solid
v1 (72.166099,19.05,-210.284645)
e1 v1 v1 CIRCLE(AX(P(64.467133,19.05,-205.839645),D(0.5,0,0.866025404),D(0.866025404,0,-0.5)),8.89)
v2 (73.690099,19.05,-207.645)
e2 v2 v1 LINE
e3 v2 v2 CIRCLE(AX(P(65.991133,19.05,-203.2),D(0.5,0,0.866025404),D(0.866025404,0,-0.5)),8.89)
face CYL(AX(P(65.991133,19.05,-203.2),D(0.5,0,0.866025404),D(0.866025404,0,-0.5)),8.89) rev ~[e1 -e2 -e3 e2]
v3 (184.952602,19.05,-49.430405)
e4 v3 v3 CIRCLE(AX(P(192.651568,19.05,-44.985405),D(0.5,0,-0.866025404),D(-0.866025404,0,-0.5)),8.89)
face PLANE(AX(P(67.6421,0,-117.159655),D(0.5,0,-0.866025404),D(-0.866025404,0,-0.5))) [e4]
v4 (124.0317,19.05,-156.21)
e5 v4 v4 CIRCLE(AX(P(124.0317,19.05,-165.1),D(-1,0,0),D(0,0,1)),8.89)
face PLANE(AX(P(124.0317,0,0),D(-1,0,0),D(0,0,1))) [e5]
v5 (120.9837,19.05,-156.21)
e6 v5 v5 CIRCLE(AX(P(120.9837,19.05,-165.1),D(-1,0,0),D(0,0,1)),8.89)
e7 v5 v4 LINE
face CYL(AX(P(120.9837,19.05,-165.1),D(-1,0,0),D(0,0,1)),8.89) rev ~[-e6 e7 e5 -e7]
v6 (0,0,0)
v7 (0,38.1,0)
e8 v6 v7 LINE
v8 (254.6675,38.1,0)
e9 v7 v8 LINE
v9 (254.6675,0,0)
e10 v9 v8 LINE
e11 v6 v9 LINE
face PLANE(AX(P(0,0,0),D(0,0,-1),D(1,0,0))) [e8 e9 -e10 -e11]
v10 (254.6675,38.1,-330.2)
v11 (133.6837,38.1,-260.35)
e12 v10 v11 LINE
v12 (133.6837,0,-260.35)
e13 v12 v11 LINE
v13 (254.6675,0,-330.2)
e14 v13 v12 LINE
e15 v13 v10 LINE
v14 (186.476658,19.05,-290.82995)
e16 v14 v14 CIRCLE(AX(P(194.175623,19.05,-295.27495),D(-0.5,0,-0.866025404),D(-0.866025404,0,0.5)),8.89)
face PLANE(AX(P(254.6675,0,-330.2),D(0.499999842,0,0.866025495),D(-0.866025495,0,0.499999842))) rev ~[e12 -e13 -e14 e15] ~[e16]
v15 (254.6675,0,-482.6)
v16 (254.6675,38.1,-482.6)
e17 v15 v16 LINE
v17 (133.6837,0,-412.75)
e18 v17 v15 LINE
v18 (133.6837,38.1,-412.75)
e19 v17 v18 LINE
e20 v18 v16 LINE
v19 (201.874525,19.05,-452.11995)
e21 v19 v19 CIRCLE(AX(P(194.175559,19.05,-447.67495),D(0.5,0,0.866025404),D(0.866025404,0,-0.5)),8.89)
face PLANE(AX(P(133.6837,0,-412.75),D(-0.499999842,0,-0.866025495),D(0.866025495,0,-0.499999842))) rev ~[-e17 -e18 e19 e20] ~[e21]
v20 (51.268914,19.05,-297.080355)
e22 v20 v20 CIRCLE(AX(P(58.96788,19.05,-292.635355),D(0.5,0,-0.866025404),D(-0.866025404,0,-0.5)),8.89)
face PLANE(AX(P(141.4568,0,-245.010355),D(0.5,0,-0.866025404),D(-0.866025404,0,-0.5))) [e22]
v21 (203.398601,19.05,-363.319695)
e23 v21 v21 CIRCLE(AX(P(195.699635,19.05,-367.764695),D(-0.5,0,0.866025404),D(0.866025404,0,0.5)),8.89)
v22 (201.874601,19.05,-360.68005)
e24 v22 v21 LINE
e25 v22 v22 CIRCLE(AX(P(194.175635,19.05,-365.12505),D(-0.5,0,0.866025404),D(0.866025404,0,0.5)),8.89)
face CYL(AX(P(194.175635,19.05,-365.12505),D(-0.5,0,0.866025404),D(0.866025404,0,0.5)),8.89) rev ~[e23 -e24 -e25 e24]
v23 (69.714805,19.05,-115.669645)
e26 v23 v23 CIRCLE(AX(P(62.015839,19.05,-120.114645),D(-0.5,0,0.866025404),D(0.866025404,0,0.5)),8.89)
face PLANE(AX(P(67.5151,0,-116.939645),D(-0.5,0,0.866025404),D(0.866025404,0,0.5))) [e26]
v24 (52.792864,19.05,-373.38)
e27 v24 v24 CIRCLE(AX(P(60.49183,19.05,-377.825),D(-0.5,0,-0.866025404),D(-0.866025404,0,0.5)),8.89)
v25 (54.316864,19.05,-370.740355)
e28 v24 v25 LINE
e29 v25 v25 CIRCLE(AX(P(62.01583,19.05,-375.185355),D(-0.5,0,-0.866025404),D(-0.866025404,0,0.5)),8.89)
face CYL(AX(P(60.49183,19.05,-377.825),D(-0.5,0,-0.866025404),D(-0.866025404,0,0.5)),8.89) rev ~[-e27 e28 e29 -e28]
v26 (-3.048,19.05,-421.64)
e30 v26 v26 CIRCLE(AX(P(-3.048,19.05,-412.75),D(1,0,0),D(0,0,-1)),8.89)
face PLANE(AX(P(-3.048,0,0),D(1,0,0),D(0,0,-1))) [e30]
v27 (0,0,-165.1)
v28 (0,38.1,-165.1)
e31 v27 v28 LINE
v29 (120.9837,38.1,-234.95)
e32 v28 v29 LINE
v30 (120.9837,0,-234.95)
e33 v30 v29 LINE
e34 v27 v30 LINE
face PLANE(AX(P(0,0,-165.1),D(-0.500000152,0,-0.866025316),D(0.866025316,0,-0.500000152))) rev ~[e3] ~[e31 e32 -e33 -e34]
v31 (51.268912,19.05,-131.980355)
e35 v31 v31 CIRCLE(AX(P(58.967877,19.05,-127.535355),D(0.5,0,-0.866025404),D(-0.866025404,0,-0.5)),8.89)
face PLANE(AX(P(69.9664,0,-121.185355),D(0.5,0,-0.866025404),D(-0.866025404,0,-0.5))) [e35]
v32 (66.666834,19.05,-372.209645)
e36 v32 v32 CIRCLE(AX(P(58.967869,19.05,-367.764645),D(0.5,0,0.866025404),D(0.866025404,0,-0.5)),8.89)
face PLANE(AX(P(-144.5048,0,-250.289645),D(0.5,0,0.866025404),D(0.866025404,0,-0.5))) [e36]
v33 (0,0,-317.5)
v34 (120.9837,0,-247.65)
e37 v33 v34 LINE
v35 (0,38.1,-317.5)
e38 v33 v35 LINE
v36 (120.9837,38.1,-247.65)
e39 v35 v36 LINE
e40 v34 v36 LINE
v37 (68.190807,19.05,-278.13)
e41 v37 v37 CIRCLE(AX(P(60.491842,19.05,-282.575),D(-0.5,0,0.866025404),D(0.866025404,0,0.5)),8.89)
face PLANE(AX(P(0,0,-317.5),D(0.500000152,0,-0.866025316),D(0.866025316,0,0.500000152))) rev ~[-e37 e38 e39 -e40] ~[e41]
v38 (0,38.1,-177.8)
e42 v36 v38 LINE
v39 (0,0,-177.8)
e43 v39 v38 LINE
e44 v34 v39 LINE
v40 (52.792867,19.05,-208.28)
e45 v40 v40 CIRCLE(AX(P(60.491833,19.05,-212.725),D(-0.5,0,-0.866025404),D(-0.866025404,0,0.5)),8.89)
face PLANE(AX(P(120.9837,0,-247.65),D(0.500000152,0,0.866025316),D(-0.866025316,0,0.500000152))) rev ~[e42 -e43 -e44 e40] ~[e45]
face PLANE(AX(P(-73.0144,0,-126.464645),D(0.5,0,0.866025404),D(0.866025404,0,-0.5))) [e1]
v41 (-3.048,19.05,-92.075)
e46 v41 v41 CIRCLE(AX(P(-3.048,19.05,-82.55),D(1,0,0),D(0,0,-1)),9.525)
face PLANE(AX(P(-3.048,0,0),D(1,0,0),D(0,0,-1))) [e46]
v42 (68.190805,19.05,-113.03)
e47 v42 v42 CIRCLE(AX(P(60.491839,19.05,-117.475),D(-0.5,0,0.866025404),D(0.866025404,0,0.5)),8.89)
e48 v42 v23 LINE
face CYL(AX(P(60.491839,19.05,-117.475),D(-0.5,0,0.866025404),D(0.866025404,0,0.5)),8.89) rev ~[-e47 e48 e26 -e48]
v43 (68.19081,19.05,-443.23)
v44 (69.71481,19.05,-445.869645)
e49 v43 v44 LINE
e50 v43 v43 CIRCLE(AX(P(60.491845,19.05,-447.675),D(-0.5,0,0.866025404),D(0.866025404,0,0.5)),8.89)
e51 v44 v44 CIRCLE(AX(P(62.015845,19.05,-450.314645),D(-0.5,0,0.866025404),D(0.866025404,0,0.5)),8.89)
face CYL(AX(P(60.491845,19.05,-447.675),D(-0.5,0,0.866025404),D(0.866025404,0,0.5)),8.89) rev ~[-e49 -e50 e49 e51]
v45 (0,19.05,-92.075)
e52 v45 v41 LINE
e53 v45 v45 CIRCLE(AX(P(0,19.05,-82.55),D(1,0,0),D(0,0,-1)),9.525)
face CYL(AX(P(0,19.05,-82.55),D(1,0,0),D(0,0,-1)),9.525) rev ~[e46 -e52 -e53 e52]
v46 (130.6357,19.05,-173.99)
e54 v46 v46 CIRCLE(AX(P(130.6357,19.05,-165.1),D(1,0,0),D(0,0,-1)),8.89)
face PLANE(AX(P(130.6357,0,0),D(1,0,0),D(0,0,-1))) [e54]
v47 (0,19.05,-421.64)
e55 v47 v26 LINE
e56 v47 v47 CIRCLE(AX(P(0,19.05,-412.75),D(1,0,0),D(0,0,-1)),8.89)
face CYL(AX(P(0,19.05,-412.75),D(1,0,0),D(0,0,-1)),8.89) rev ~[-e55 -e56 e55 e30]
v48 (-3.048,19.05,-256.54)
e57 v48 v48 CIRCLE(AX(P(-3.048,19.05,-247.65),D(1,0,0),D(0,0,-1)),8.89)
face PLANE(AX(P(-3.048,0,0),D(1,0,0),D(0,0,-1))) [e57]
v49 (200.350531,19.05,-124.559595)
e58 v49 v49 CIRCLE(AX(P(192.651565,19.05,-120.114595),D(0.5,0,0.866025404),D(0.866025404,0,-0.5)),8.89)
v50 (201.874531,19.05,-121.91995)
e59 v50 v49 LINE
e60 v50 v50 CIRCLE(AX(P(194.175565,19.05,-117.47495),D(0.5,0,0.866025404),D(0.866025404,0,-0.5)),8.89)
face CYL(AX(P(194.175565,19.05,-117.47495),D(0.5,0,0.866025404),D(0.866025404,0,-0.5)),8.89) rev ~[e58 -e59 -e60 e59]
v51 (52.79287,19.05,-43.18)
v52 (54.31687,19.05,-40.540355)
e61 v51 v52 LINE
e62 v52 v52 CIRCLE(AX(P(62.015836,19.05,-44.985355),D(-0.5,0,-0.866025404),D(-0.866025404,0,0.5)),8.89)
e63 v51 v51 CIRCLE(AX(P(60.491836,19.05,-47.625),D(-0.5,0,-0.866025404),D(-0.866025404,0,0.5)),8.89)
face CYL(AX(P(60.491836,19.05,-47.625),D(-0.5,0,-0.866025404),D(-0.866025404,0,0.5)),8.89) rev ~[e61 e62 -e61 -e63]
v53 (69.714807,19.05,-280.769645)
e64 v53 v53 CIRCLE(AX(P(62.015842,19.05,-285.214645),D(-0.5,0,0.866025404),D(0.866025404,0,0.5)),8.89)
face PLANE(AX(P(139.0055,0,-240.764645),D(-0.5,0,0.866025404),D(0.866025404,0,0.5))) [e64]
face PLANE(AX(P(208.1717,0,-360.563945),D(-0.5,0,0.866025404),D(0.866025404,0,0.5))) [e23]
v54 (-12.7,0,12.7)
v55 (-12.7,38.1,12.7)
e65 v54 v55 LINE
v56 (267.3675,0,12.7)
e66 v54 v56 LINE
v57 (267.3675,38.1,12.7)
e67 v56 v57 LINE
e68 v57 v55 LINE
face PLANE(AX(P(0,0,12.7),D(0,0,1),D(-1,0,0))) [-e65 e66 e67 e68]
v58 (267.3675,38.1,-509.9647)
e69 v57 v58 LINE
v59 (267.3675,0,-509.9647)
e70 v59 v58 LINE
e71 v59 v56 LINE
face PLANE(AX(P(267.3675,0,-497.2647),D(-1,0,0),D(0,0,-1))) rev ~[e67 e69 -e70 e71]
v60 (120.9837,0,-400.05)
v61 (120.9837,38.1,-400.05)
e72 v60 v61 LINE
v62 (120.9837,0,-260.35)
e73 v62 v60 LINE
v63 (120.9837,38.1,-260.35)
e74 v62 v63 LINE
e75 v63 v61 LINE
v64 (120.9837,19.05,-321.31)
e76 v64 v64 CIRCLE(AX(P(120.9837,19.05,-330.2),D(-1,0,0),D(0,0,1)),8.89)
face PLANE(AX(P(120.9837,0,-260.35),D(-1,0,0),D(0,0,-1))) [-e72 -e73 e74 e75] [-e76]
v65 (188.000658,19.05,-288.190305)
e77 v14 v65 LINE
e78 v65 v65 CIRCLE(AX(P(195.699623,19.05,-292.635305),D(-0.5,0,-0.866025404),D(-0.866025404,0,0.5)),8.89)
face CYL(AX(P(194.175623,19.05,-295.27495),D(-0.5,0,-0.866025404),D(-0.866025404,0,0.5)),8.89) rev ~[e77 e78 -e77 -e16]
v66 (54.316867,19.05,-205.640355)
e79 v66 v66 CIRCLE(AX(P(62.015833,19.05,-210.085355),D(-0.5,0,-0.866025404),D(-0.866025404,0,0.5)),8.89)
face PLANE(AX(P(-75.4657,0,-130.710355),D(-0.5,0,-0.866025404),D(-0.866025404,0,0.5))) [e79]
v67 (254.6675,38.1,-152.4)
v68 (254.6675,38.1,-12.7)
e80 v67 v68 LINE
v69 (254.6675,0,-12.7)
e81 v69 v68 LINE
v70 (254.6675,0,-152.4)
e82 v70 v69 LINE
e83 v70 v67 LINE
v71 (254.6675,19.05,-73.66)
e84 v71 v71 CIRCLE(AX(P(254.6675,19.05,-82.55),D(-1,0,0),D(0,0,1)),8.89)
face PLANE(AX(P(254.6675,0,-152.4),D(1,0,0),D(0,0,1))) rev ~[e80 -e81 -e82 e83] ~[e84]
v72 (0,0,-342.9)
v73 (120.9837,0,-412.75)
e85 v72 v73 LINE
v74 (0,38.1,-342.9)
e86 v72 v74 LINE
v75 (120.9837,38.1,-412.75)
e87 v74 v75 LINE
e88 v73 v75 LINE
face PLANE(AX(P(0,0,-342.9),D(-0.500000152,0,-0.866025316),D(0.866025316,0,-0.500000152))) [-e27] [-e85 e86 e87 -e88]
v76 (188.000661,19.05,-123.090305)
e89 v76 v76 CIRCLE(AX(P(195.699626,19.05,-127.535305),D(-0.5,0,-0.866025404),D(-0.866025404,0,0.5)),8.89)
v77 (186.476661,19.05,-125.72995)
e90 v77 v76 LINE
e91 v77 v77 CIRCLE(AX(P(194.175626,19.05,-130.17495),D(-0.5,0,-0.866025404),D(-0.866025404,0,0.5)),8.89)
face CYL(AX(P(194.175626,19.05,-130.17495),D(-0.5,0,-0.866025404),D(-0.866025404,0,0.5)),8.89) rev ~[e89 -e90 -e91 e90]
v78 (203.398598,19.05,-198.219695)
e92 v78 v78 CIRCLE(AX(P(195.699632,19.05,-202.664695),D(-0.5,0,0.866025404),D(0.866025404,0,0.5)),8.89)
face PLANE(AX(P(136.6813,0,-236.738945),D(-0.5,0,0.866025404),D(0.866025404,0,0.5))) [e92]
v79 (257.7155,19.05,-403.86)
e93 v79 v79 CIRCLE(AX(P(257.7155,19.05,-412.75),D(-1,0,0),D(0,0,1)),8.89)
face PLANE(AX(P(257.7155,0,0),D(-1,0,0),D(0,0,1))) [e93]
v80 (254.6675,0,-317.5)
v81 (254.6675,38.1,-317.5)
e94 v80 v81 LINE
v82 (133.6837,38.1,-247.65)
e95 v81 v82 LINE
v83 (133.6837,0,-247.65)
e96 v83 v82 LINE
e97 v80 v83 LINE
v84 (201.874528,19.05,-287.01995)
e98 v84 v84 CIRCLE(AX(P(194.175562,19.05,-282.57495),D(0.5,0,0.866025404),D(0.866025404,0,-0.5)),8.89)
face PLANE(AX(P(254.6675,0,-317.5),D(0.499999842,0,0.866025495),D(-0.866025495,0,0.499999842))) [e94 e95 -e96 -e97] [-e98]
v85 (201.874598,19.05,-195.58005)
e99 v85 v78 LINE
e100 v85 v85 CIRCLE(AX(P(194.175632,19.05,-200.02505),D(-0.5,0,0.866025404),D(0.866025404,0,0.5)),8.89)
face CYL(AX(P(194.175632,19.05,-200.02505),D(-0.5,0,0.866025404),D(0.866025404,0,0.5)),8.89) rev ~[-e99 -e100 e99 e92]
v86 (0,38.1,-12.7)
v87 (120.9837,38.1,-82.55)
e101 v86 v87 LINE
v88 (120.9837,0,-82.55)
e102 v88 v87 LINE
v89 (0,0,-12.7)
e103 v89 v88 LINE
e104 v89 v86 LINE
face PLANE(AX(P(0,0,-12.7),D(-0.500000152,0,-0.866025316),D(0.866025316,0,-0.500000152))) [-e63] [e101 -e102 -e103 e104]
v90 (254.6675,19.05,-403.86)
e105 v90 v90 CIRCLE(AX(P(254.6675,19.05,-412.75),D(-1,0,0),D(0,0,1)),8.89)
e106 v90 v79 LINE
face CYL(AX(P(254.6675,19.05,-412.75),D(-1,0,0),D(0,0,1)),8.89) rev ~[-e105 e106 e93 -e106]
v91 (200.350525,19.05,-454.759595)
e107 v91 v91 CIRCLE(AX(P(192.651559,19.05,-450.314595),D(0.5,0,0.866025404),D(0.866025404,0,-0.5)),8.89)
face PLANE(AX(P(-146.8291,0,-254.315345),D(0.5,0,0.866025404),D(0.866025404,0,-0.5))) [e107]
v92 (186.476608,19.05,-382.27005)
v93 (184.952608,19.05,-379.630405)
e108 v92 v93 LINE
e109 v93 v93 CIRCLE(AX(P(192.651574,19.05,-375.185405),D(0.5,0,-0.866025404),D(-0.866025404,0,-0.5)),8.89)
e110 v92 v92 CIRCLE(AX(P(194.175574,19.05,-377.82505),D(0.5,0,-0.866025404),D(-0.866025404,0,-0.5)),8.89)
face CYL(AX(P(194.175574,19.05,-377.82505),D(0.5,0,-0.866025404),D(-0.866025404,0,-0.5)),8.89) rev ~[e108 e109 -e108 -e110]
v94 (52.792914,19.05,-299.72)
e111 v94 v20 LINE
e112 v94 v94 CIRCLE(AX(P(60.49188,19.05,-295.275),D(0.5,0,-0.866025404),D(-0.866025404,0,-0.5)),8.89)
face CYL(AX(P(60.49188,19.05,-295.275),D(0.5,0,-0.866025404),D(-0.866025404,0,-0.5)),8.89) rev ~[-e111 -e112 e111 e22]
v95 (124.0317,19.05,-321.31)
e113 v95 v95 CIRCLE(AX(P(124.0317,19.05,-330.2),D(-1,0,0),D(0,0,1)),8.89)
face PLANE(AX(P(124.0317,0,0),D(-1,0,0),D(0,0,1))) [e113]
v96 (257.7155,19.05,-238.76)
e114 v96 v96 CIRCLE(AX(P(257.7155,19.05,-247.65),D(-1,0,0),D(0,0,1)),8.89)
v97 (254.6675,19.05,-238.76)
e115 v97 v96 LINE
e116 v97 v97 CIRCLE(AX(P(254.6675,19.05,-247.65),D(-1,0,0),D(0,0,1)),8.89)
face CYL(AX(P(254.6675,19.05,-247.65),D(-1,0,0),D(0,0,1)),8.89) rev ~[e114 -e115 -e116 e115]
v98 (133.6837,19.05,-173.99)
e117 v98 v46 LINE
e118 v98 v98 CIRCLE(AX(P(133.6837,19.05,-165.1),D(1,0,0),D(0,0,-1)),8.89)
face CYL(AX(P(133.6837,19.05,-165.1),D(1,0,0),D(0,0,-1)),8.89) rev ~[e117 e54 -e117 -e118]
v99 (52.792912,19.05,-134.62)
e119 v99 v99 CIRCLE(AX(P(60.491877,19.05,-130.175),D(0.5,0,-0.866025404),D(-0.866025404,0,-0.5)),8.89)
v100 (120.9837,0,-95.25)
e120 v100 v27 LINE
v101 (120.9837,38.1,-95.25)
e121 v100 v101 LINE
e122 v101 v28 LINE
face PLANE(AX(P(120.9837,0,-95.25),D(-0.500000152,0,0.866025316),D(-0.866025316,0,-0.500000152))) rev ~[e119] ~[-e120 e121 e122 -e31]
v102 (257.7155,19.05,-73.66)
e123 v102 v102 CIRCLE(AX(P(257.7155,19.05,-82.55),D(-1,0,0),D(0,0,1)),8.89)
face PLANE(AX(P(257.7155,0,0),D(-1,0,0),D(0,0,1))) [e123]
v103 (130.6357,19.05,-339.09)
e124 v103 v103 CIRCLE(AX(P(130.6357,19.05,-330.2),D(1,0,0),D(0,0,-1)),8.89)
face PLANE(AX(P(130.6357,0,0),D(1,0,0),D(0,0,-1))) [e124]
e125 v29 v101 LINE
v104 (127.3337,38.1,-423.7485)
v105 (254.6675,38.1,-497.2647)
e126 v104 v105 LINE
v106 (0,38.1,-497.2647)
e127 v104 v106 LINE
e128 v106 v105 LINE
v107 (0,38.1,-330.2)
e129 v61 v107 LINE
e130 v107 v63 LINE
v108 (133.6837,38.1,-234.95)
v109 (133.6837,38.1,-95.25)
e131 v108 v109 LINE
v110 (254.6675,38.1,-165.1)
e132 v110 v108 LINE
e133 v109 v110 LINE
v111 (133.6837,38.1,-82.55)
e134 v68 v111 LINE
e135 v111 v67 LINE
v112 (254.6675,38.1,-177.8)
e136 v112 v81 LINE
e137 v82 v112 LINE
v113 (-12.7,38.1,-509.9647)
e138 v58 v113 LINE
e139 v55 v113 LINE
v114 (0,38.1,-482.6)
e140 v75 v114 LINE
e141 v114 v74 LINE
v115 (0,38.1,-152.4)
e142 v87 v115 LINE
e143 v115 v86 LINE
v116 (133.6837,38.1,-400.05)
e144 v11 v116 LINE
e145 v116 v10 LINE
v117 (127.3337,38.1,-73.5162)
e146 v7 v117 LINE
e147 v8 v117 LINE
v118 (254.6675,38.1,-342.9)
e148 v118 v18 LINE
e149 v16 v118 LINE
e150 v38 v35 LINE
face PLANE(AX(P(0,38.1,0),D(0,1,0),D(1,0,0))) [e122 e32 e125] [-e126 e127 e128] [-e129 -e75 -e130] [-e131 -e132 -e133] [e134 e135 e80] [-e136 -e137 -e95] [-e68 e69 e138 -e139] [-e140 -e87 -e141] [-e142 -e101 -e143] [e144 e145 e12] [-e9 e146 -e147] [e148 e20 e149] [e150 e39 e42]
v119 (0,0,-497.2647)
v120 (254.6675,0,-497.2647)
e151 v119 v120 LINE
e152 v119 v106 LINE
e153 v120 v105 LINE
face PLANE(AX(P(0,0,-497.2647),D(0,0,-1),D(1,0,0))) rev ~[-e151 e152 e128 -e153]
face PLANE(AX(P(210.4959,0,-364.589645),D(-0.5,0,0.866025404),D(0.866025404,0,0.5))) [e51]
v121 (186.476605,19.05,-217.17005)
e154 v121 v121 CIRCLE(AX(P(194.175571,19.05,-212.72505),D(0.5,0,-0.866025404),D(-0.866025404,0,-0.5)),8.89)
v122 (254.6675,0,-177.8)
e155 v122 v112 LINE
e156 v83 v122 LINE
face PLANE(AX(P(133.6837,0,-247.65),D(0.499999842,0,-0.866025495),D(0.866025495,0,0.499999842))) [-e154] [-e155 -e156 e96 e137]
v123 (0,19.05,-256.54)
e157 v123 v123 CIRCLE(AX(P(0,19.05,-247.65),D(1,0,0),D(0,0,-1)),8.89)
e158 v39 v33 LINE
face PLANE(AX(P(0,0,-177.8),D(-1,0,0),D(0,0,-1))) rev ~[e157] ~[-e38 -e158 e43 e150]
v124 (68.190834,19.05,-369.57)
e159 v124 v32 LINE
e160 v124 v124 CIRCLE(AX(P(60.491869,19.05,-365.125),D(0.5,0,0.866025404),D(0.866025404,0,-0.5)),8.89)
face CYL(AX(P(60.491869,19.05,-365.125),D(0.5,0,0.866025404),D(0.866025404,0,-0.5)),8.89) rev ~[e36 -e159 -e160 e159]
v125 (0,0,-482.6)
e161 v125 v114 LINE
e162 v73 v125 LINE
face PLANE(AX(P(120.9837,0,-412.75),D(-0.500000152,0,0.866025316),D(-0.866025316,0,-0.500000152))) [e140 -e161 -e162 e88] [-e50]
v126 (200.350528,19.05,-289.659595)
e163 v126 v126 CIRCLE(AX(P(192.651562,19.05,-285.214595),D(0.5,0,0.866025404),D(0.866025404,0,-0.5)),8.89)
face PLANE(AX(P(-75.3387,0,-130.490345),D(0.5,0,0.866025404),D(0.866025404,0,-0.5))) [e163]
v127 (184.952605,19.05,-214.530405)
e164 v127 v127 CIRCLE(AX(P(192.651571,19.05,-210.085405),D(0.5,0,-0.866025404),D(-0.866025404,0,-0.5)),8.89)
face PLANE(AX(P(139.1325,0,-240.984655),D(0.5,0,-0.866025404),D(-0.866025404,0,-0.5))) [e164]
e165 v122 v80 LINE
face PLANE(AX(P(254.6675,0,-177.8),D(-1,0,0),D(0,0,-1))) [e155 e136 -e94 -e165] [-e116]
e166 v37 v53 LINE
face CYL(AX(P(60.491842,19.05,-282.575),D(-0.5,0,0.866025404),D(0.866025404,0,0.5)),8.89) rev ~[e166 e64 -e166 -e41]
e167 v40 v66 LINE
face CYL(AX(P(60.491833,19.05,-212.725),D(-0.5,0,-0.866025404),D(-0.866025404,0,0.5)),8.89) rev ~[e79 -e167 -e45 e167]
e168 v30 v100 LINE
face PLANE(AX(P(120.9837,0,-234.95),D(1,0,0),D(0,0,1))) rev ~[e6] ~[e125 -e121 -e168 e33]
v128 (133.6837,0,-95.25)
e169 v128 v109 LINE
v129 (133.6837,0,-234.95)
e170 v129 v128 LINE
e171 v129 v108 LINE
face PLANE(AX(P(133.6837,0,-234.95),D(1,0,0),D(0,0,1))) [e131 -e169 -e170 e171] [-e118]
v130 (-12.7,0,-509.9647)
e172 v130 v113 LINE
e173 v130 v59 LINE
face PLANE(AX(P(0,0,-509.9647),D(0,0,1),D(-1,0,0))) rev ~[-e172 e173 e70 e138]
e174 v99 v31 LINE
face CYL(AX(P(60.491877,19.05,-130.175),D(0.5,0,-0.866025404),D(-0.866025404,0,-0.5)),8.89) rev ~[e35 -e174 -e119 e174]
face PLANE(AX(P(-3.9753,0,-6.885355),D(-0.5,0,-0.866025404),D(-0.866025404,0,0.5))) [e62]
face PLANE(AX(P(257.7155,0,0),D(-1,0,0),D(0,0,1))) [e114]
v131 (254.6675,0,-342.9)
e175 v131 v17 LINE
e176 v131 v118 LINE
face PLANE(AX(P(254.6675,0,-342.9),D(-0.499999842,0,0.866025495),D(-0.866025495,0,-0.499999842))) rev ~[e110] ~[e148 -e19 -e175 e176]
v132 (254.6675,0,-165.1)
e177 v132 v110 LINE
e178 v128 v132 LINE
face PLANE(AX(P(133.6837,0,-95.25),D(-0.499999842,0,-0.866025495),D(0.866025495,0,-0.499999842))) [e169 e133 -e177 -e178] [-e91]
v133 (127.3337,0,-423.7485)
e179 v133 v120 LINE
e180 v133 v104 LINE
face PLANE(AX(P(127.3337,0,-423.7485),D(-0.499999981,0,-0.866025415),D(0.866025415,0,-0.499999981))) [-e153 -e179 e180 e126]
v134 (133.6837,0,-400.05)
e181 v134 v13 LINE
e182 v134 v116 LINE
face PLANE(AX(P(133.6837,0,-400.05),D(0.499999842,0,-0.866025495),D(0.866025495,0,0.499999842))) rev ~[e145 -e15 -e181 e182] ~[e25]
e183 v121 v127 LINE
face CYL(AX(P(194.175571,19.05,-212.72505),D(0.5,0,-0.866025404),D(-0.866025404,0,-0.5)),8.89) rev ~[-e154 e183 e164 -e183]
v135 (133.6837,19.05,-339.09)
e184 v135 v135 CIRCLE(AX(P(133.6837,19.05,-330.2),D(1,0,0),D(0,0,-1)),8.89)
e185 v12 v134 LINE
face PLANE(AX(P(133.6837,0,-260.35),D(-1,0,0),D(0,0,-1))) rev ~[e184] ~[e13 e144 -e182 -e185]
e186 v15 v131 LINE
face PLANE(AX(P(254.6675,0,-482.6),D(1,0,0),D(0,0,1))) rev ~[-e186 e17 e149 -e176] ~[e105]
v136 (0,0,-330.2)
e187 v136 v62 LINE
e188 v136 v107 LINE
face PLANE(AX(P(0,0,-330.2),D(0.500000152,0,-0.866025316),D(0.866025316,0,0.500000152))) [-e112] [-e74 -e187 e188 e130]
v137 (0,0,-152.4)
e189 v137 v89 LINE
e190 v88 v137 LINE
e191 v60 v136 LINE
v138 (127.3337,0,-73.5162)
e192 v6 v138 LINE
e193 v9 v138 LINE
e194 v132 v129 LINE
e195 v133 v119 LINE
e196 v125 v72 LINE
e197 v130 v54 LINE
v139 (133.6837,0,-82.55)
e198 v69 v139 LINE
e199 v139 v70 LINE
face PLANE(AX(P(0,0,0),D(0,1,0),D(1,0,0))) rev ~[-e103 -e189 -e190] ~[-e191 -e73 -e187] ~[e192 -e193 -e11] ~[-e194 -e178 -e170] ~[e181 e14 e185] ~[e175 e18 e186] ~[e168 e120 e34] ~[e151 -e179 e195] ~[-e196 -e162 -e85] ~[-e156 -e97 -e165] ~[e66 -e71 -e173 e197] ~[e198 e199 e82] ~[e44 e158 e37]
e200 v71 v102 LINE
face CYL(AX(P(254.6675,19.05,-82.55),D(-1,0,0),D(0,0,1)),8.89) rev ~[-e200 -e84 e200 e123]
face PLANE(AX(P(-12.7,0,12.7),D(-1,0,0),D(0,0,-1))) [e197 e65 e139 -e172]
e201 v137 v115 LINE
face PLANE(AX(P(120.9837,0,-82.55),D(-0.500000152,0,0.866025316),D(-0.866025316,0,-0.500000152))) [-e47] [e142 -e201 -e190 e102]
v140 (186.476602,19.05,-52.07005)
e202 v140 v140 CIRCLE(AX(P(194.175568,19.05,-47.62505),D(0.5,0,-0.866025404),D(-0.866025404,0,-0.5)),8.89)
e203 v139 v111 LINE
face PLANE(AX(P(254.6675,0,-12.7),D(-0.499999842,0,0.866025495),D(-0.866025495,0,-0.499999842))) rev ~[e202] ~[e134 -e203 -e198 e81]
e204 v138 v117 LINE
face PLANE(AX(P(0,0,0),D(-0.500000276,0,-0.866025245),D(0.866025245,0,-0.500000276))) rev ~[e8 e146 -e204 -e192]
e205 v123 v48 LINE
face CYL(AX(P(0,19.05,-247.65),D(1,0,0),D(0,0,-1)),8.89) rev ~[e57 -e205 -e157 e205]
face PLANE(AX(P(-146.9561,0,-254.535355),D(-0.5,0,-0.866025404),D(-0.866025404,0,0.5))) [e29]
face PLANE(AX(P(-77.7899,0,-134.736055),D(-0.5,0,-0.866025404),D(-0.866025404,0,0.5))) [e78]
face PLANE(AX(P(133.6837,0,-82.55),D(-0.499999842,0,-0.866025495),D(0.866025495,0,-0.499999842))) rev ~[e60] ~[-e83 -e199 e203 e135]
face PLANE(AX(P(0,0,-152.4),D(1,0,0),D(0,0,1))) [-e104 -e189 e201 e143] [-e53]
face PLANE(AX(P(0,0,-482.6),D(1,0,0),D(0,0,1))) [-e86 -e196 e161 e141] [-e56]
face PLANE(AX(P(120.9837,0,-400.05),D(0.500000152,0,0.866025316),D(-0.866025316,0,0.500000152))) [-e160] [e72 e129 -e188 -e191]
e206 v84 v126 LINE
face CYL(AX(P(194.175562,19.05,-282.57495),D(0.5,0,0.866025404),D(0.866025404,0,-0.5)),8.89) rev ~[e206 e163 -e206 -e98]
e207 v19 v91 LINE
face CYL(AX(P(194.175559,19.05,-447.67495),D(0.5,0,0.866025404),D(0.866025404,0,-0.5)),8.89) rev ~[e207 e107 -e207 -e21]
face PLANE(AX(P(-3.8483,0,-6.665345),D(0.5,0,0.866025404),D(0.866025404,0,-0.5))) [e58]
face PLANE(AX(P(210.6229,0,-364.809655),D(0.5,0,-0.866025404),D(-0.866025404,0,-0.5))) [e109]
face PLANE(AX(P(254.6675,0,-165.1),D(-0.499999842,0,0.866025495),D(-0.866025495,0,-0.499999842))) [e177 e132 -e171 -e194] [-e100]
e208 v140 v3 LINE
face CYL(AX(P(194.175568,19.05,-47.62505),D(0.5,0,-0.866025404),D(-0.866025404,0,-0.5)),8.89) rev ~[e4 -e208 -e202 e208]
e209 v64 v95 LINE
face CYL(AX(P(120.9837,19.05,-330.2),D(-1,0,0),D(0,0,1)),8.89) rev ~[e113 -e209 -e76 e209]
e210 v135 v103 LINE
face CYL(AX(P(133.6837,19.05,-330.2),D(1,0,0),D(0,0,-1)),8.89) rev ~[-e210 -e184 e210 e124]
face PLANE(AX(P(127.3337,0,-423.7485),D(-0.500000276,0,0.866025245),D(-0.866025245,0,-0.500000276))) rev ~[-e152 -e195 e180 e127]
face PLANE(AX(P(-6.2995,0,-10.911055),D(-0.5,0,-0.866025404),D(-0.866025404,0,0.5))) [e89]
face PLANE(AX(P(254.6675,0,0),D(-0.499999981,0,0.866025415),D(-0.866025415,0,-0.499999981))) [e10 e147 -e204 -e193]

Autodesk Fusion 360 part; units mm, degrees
sketch "Sketch1" plane through (0, 0, 0) normal (0, 1, 0) x (1, 0, 0) in component "Divider"
  line L0 (0, 0) -> (127.3337, 73.5162)
  line L1 (0, 12.7) -> (120.9837, 82.55)
  line L2 (120.9837, 82.55) -> (0, 152.4)
  line L3 (0, 152.4) -> (0, 12.7)
  line L4 (127.3337, 73.5162) -> (127.3337, 423.7485) construction
  line L5 (120.9837, 95.25) -> (0, 165.1)
  line L6 (0, 165.1) -> (120.9837, 234.95)
  line L7 (120.9837, 234.95) -> (120.9837, 95.25)
  line L8 (120.9837, 247.65) -> (0, 177.8)
  line L9 (0, 177.8) -> (0, 317.5)
  line L10 (0, 317.5) -> (120.9837, 247.65)
  line L11 (0, 330.2) -> (120.9837, 260.35)
  line L12 (120.9837, 260.35) -> (120.9837, 400.05)
  line L13 (120.9837, 400.05) -> (0, 330.2)
  line L14 (0, 342.9) -> (120.9837, 412.75)
  line L15 (120.9837, 412.75) -> (0, 482.6)
  line L16 (0, 482.6) -> (0, 342.9)
  line L17 (127.3337, 423.7485) -> (0, 497.2647)
  line L18 (0, -12.7) -> (-12.7, -12.7)
  line L19 (-12.7, -12.7) -> (-12.7, 0)
  line L20 (-12.7, 497.2647) -> (-12.7, 509.9647)
  line L21 (0, 509.9647) -> (-12.7, 509.9647)
  line L22 (-12.7, 497.2647) -> (-12.7, 0)
  line L23 (254.6675, 12.7) -> (133.6837, 82.55)
  line L24 (254.6675, 482.6) -> (254.6675, 342.9)
  line L25 (127.3337, 423.7485) -> (254.6675, 497.2647)
  line L26 (133.6837, 412.75) -> (254.6675, 482.6)
  line L27 (133.6837, 400.05) -> (254.6675, 330.2)
  line L28 (267.3675, -12.7) -> (267.3675, 0)
  line L29 (133.6837, 247.65) -> (254.6675, 177.8)
  line L30 (254.6675, 177.8) -> (254.6675, 317.5)
  line L31 (267.3675, 497.2647) -> (267.3675, 0)
  line L32 (254.6675, 509.9647) -> (267.3675, 509.9647)
  line L33 (254.6675, 165.1) -> (133.6837, 234.95)
  line L34 (254.6675, -12.7) -> (267.3675, -12.7)
  line L35 (254.6675, 0) -> (127.3337, 73.5162)
  line L36 (254.6675, 317.5) -> (133.6837, 247.65)
  line L37 (254.6675, 330.2) -> (133.6837, 260.35)
  line L38 (133.6837, 234.95) -> (133.6837, 95.25)
  line L39 (254.6675, 152.4) -> (254.6675, 12.7)
  line L40 (267.3675, 497.2647) -> (267.3675, 509.9647)
  line L41 (133.6837, 82.55) -> (254.6675, 152.4)
  line L42 (254.6675, 342.9) -> (133.6837, 412.75)
  line L43 (133.6837, 260.35) -> (133.6837, 400.05)
  line L44 (133.6837, 95.25) -> (254.6675, 165.1)
  line L45 (0, 497.2647) -> (254.6675, 497.2647)
  line L46 (0, 0) -> (254.6675, 0)
  line L47 (0, -12.7) -> (254.6675, -12.7)
  line L48 (0, 509.9647) -> (254.6675, 509.9647)
  point P0 (254.6675, 0)
  dimension "d7" = 139.7
  dimension "d8" = 139.7
  dimension "d9" = 60
  dimension "d10" = 12.7
  dimension "d12" = 127.3337
  dimension "d14" = 139.7
  dimension "d15" = 139.7
  dimension "d16" = 12.7
  dimension "d17" = 12.7
  dimension "d19" = 139.7
  dimension "d20" = 139.7
  dimension "d21" = 139.7
  dimension "d22" = 6.35
  dimension "d23" = 12.7
  dimension "d24" = 12.7
  dimension "d26" = 139.7
  dimension "d27" = 139.7
  dimension "d28" = 6.35
  dimension "d29" = 12.7
  dimension "d30" = 6.35
  dimension "d31" = 139.7
  dimension "d32" = 139.7
  dimension "d34" = 12.7
  dimension "d35" = 12.7
  dimension "d36" = 12.7
  dimension "d38" = 12.7
  dimension "d39" = 12.7
  dimension "d41" = 12.7
  dimension "d43" = 12.7
  dimension "d44" = 12.7
  dimension "d45" = 12.7
  dimension "d46" = 12.7
  dimension "d47" = 12.7
  dimension "d48" = 254.6675
extrude "Extrude1" add sketch "Sketch1" along normal blind 38.1 in component "Divider"
sketch "Sketch2" plane through (0, 0, 0) normal (1, 0, 0) x (0, 0, -1) in component "Divider"
  line L0 (177.8, 0) -> (317.5, 0)
  line L1 (317.5, 0) -> (317.5, 38.1)
  line L2 (317.5, 38.1) -> (177.8, 38.1)
  line L3 (177.8, 38.1) -> (177.8, 0)
  line L4 (12.7, 38.1) -> (152.4, 38.1)
  line L5 (177.8, 38.1) -> (317.5, 38.1)
  line L6 (342.9, 38.1) -> (482.6, 38.1)
  line L7 (177.8, 0) -> (317.5, 0)
  line L8 (342.9, 0) -> (482.6, 0)
  line L9 (12.7, 0) -> (152.4, 0)
  circle A0 centre (412.75, 19.05) radius 8.89
  circle A1 centre (247.65, 19.05) radius 8.89
  circle A2 centre (82.55, 19.05) radius 9.525
  dimension "d61" = 17.78
  dimension "d62" = 69.85
  dimension "d63" = 19.05
  dimension "d64" = 17.78
  dimension "d65" = 19.05
  dimension "d66" = 69.85
  dimension "d67" = 19.05
  dimension "d68" = 19.05
  dimension "d69" = 69.85
extrude "Extrude2" cut sketch "Sketch2" against normal blind 3.048 contours A0 | A1 | A2 in component "Divider"
sketch "Sketch2 (1)" plane through (254.6675, 0, 0) normal (-1, 0, 0) x (0, 0, 1) in component "Divider"
  line L0 (-317.5, 0) -> (-177.8, 0)
  line L1 (-177.8, 0) -> (-177.8, 38.1)
  line L2 (-177.8, 38.1) -> (-317.5, 38.1)
  line L3 (-317.5, 38.1) -> (-317.5, 0)
  line L4 (-482.6, 38.1) -> (-342.9, 38.1)
  line L5 (-482.6, 0) -> (-342.9, 0)
  line L6 (-317.5, 0) -> (-177.8, 0)
  line L7 (-317.5, 38.1) -> (-177.8, 38.1)
  line L8 (-152.4, 38.1) -> (-12.7, 38.1)
  line L9 (-152.4, 0) -> (-12.7, 0)
  circle A0 centre (-82.55, 19.05) radius 8.89
  circle A1 centre (-247.65, 19.05) radius 8.89
  circle A2 centre (-412.75, 19.05) radius 8.89
  dimension "d72" = 17.78
  dimension "d73" = 19.05
  dimension "d74" = 69.85
  dimension "d75" = 17.78
  dimension "d76" = 19.05
  dimension "d77" = 69.85
  dimension "d78" = 17.78
  dimension "d79" = 19.05
  dimension "d80" = 69.85
extrude "Extrude3" cut sketch "Sketch2 (1)" against normal blind 3.048 contours A0 | A1 | A2 in component "Divider"
sketch "Sketch3" plane through (133.6837, 0, 0) normal (1, 0, 0) x (0, 0, -1) in component "Divider"
  line L0 (95.25, 0) -> (234.95, 0)
  line L1 (234.95, 0) -> (234.95, 38.1)
  line L2 (234.95, 38.1) -> (95.25, 38.1)
  line L3 (95.25, 38.1) -> (95.25, 0)
  line L4 (95.25, 38.1) -> (234.95, 38.1)
  line L5 (95.25, 0) -> (234.95, 0)
  line L6 (260.35, 38.1) -> (400.05, 38.1)
  line L7 (260.35, 0) -> (400.05, 0)
  circle A0 centre (165.1, 19.05) radius 8.89
  circle A1 centre (330.2, 19.05) radius 8.89
  dimension "d83" = 17.78
  dimension "d84" = 19.05
  dimension "d85" = 69.85
  dimension "d86" = 17.78
  dimension "d87" = 19.05
  dimension "d88" = 69.85
extrude "Extrude4" cut sketch "Sketch3" against normal blind 3.048 contours A0 | A1 in component "Divider"
sketch "Sketch4" plane through (120.9837, 0, 0) normal (-1, 0, 0) x (0, 0, 1) in component "Divider"
  line L0 (-400.05, 0) -> (-260.35, 0)
  line L1 (-260.35, 0) -> (-260.35, 38.1)
  line L2 (-260.35, 38.1) -> (-400.05, 38.1)
  line L3 (-400.05, 38.1) -> (-400.05, 0)
  circle A0 centre (-330.2, 19.05) radius 8.89
  line L4 (-400.05, 38.1) -> (-260.35, 38.1)
  line L5 (-400.05, 0) -> (-260.35, 0)
  line L6 (-234.95, 0) -> (-95.25, 0)
  line L7 (-234.95, 38.1) -> (-95.25, 38.1)
  circle A1 centre (-165.1, 19.05) radius 8.89
  dimension "d91" = 17.78
  dimension "d92" = 19.05
  dimension "d93" = 69.85
  dimension "d94" = 17.78
  dimension "d95" = 19.05
  dimension "d96" = 69.85
extrude "Extrude5" cut sketch "Sketch4" against normal blind 3.048 contours A0 | A1 in component "Divider"
sketch "Sketch7" plane through (-71.4904, 0, -123.825) normal (0.5, 0, 0.866) x (0.866, 0, -0.5) in component "Divider"
  line L0 (82.55, 0) -> (222.25, 0)
  line L1 (222.25, 0) -> (222.25, 38.1)
  line L2 (222.25, 38.1) -> (82.55, 38.1)
  line L3 (82.55, 38.1) -> (82.55, 0)
  line L4 (82.55, 38.1) -> (222.25, 38.1)
  line L5 (82.55, 0) -> (222.25, 0)
  circle A0 centre (158.75, 19.05) radius 8.89
  dimension "d99" = 17.78
  dimension "d100" = 63.5
  dimension "d101" = 19.05
extrude "Extrude6" cut sketch "Sketch7" against normal blind 3.048 contours A0 in component "Divider"
sketch "Sketch8" plane through (-142.9808, 0, -247.65) normal (0.5, 0, 0.866) x (0.866, 0, -0.5) in component "Divider"
  line L0 (165.1, 0) -> (304.8, 0)
  line L1 (304.8, 0) -> (304.8, 38.1)
  line L2 (304.8, 38.1) -> (165.1, 38.1)
  line L3 (165.1, 38.1) -> (165.1, 0)
  line L4 (165.1, 38.1) -> (304.8, 38.1)
  line L5 (165.1, 0) -> (304.8, 0)
  circle A0 centre (234.95, 19.05) radius 8.89
  dimension "d104" = 17.78
  dimension "d105" = 19.05
  dimension "d106" = 69.85
extrude "Extrude7" cut sketch "Sketch8" against normal blind 3.048 contours A0 in component "Divider"
sketch "Sketch9" plane through (-2.3243, 0, -4.0257) normal (0.5, 0, 0.866) x (0.866, 0, -0.5) in component "Divider"
  line L0 (157.0485, 0) -> (296.7485, 0)
  line L1 (296.7485, 0) -> (296.7485, 38.1)
  line L2 (296.7485, 38.1) -> (157.0485, 38.1)
  line L3 (157.0485, 38.1) -> (157.0485, 0)
  line L4 (157.0485, 38.1) -> (296.7485, 38.1)
  line L5 (157.0485, 0) -> (296.7485, 0)
  circle A0 centre (226.8985, 19.05) radius 8.89
  dimension "d109" = 17.78
  dimension "d110" = 19.05
  dimension "d111" = 69.85
extrude "Extrude8" cut sketch "Sketch9" against normal blind 3.048 contours A0 in component "Divider"
sketch "Sketch10" plane through (-73.8147, 0, -127.8507) normal (0.5, 0, 0.866) x (0.866, 0, -0.5) in component "Divider"
  line L0 (239.5985, 0) -> (379.2985, 0)
  line L1 (379.2985, 0) -> (379.2985, 38.1)
  line L2 (379.2985, 38.1) -> (239.5985, 38.1)
  line L3 (239.5985, 38.1) -> (239.5985, 0)
  line L4 (239.5985, 38.1) -> (379.2985, 38.1)
  line L5 (239.5985, 0) -> (379.2985, 0)
  circle A0 centre (309.4485, 19.05) radius 8.89
  dimension "d114" = 17.78
  dimension "d115" = 19.05
  dimension "d116" = 69.85
extrude "Extrude9" cut sketch "Sketch10" against normal blind 3.048 contours A0 in component "Divider"
sketch "Sketch11" plane through (-145.3051, 0, -251.6757) normal (0.5, 0, 0.866) x (0.866, 0, -0.5) in component "Divider"
  line L0 (322.1485, 0) -> (461.8485, 0)
  line L1 (461.8485, 0) -> (461.8485, 38.1)
  line L2 (461.8485, 38.1) -> (322.1485, 38.1)
  line L3 (322.1485, 38.1) -> (322.1485, 0)
  line L4 (322.1485, 38.1) -> (461.8485, 38.1)
  line L5 (322.1485, 0) -> (461.8485, 0)
  circle A0 centre (391.9985, 19.05) radius 8.89
  dimension "d119" = 17.78
  dimension "d120" = 19.05
  dimension "d121" = 69.85
extrude "Extrude10" cut sketch "Sketch11" against normal blind 3.048 contours A0 in component "Divider"
sketch "Sketch3 (2)" plane through (212.1469, 0, -367.4493) normal (0.5, 0, -0.866) x (-0.866, 0, -0.5) in component "Divider"
  line L0 (-49.0985, 0) -> (90.6015, 0)
  line L1 (90.6015, 0) -> (90.6015, 38.1)
  line L2 (90.6015, 38.1) -> (-49.0985, 38.1)
  line L3 (-49.0985, 38.1) -> (-49.0985, 0)
  line L4 (-49.0985, 38.1) -> (90.6015, 38.1)
  line L5 (-49.0985, 0) -> (90.6015, 0)
  circle A0 centre (20.7515, 19.05) radius 8.89
  dimension "d124" = 17.78
  dimension "d125" = 19.05
  dimension "d126" = 69.85
extrude "Extrude11" cut sketch "Sketch3 (2)" against normal blind 3.048 contours A0 in component "Divider"
sketch "Sketch4 (2)" plane through (140.6565, 0, -243.6243) normal (0.5, 0, -0.866) x (-0.866, 0, -0.5) in component "Divider"
  line L0 (-131.6485, 0) -> (8.0515, 0)
  line L1 (8.0515, 0) -> (8.0515, 38.1)
  line L2 (8.0515, 38.1) -> (-131.6485, 38.1)
  line L3 (-131.6485, 38.1) -> (-131.6485, 0)
  line L4 (-131.6485, 38.1) -> (8.0515, 38.1)
  line L5 (-131.6485, 0) -> (8.0515, 0)
  circle A0 centre (-61.7985, 19.05) radius 8.89
  dimension "d129" = 17.78
  dimension "d130" = 19.05
  dimension "d131" = 69.85
extrude "Extrude12" cut sketch "Sketch4 (2)" against normal blind 3.048 contours A0 in component "Divider"
sketch "Sketch5" plane through (69.1661, 0, -119.7993) normal (0.5, 0, -0.866) x (-0.866, 0, -0.5) in component "Divider"
  line L0 (-214.1985, 0) -> (-74.4985, 0)
  line L1 (-74.4985, 0) -> (-74.4985, 38.1)
  line L2 (-74.4985, 38.1) -> (-214.1985, 38.1)
  line L3 (-214.1985, 38.1) -> (-214.1985, 0)
  line L4 (-214.1985, 38.1) -> (-74.4985, 38.1)
  line L5 (-214.1985, 0) -> (-74.4985, 0)
  circle A0 centre (-144.3485, 19.05) radius 8.89
  dimension "d134" = 17.78
  dimension "d135" = 19.05
  dimension "d136" = 69.85
extrude "Extrude13" cut sketch "Sketch5" against normal blind 3.048 contours A0 in component "Divider"
sketch "Sketch6" plane through (142.9808, 0, -247.65) normal (0.5, 0, -0.866) x (-0.866, 0, -0.5) in component "Divider"
  line L0 (25.4, 0) -> (165.1, 0)
  line L1 (165.1, 0) -> (165.1, 38.1)
  line L2 (165.1, 38.1) -> (25.4, 38.1)
  line L3 (25.4, 38.1) -> (25.4, 0)
  line L4 (25.4, 38.1) -> (165.1, 38.1)
  line L5 (25.4, 0) -> (165.1, 0)
  circle A0 centre (95.25, 19.05) radius 8.89
  dimension "d139" = 17.78
  dimension "d140" = 19.05
  dimension "d141" = 69.85
extrude "Extrude14" cut sketch "Sketch6" against normal blind 3.048 contours A0 in component "Divider"
sketch "Sketch7 (2)" plane through (71.4904, 0, -123.825) normal (0.5, 0, -0.866) x (-0.866, 0, -0.5) in component "Divider"
  line L0 (-57.15, 0) -> (82.55, 0)
  line L1 (82.55, 0) -> (82.55, 38.1)
  line L2 (82.55, 38.1) -> (-57.15, 38.1)
  line L3 (-57.15, 38.1) -> (-57.15, 0)
  line L4 (-57.15, 38.1) -> (82.55, 38.1)
  line L5 (-57.15, 0) -> (82.55, 0)
  circle A0 centre (12.7, 19.05) radius 8.89
  dimension "d144" = 17.78
  dimension "d145" = 19.05
  dimension "d146" = 69.85
extrude "Extrude15" cut sketch "Sketch7 (2)" against normal blind 3.048 contours A0 in component "Divider"
sketch "Sketch8 (2)" plane through (-148.4801, 0, -257.175) normal (-0.5, 0, -0.866) x (-0.866, 0, 0.5) in component "Divider"
  line L0 (-311.15, 0) -> (-171.45, 0)
  line L1 (-171.45, 0) -> (-171.45, 38.1)
  line L2 (-171.45, 38.1) -> (-311.15, 38.1)
  line L3 (-311.15, 38.1) -> (-311.15, 0)
  line L4 (-243.9838, 38.1) -> (10.9985, 38.1)
  line L5 (-311.15, 38.1) -> (-171.45, 38.1)
  line L6 (-311.15, 0) -> (-171.45, 0)
  circle A0 centre (-241.3, 19.05) radius 8.89
  dimension "d149" = 17.78
  dimension "d150" = 69.85
  dimension "d151" = 19.05
extrude "Extrude16" cut sketch "Sketch8 (2)" against normal blind 3.048 contours A0 in component "Divider"
sketch "Sketch9 (2)" plane through (-76.9897, 0, -133.35) normal (-0.5, 0, -0.866) x (-0.866, 0, 0.5) in component "Divider"
  line L0 (-228.6, 0) -> (-88.9, 0)
  line L1 (-88.9, 0) -> (-88.9, 38.1)
  line L2 (-88.9, 38.1) -> (-228.6, 38.1)
  line L3 (-228.6, 38.1) -> (-228.6, 0)
  line L4 (-228.6, 38.1) -> (-88.9, 38.1)
  line L5 (-228.6, 0) -> (-88.9, 0)
  circle A0 centre (-158.75, 19.05) radius 8.89
  dimension "d154" = 17.78
  dimension "d155" = 19.05
  dimension "d156" = 69.85
extrude "Extrude17" cut sketch "Sketch9 (2)" against normal blind 3.048 contours A0 in component "Divider"
sketch "Sketch10 (2)" plane through (-5.4993, 0, -9.525) normal (-0.5, 0, -0.866) x (-0.866, 0, 0.5) in component "Divider"
  line L0 (-146.05, 0) -> (-6.35, 0)
  line L1 (-6.35, 0) -> (-6.35, 38.1)
  line L2 (-6.35, 38.1) -> (-146.05, 38.1)
  line L3 (-146.05, 38.1) -> (-146.05, 0)
  line L4 (-146.05, 38.1) -> (-6.35, 38.1)
  line L5 (-146.05, 0) -> (-6.35, 0)
  circle A0 centre (-76.2, 19.05) radius 8.89
  dimension "d159" = 17.78
  dimension "d160" = 69.85
  dimension "d161" = 19.05
extrude "Extrude18" cut sketch "Sketch10 (2)" against normal blind 3.048 contours A0 in component "Divider"
sketch "Sketch12" plane through (-79.3139, 0, -137.3757) normal (-0.5, 0, -0.866) x (-0.866, 0, 0.5) in component "Divider"
  line L0 (-385.6485, 0) -> (-245.9485, 0)
  line L1 (-245.9485, 0) -> (-245.9485, 38.1)
  line L2 (-245.9485, 38.1) -> (-385.6485, 38.1)
  line L3 (-385.6485, 38.1) -> (-385.6485, 0)
  line L4 (-385.6485, 38.1) -> (-245.9485, 38.1)
  line L5 (-385.6485, 0) -> (-245.9485, 0)
  circle A0 centre (-315.7985, 19.05) radius 8.89
  dimension "d164" = 17.78
  dimension "d165" = 19.05
  dimension "d166" = 69.85
extrude "Extrude19" cut sketch "Sketch12" against normal blind 3.048 contours A0 in component "Divider"
sketch "Sketch13" plane through (-7.8235, 0, -13.5507) normal (-0.5, 0, -0.866) x (-0.866, 0, 0.5) in component "Divider"
  line L0 (-303.0985, 0) -> (-163.3985, 0)
  line L1 (-163.3985, 0) -> (-163.3985, 38.1)
  line L2 (-163.3985, 38.1) -> (-303.0985, 38.1)
  line L3 (-303.0985, 38.1) -> (-303.0985, 0)
  line L4 (-303.0985, 38.1) -> (-163.3985, 38.1)
  line L5 (-303.0985, 0) -> (-163.3985, 0)
  circle A0 centre (-233.2485, 19.05) radius 8.89
  dimension "d169" = 17.78
  dimension "d170" = 19.05
  dimension "d171" = 69.85
extrude "Extrude20" cut sketch "Sketch13" against normal blind 3.048 contours A0 in component "Divider"
sketch "Sketch14" plane through (65.9911, 0, -114.3) normal (-0.5, 0, 0.866) x (0.866, 0, 0.5) in component "Divider"
  line L0 (-76.2, 0) -> (63.5, 0)
  line L1 (63.5, 0) -> (63.5, 38.1)
  line L2 (63.5, 38.1) -> (-76.2, 38.1)
  line L3 (-76.2, 38.1) -> (-76.2, 0)
  line L4 (-76.2, 38.1) -> (63.5, 38.1)
  line L5 (-76.2, 0) -> (63.5, 0)
  circle A0 centre (-6.35, 19.05) radius 8.89
  dimension "d174" = 17.78
  dimension "d175" = 69.85
  dimension "d176" = 19.05
extrude "Extrude21" cut sketch "Sketch14" against normal blind 3.048 contours A0 in component "Divider"
sketch "Sketch15" plane through (137.4815, 0, -238.125) normal (-0.5, 0, 0.866) x (0.866, 0, 0.5) in component "Divider"
  line L0 (-158.75, 0) -> (-19.05, 0)
  line L1 (-19.05, 0) -> (-19.05, 38.1)
  line L2 (-19.05, 38.1) -> (-158.75, 38.1)
  line L3 (-158.75, 38.1) -> (-158.75, 0)
  line L4 (-158.75, 38.1) -> (-19.05, 38.1)
  line L5 (-158.75, 0) -> (-19.05, 0)
  circle A0 centre (-88.9, 19.05) radius 8.89
  dimension "d179" = 17.78
  dimension "d180" = 19.05
  dimension "d181" = 69.85
extrude "Extrude22" cut sketch "Sketch15" against normal blind 3.048 contours A0 in component "Divider"
sketch "Sketch16" plane through (208.9719, 0, -361.95) normal (-0.5, 0, 0.866) x (0.866, 0, 0.5) in component "Divider"
  line L0 (-241.3, 0) -> (-101.6, 0)
  line L1 (-101.6, 0) -> (-101.6, 38.1)
  line L2 (-101.6, 38.1) -> (-241.3, 38.1)
  line L3 (-241.3, 38.1) -> (-241.3, 0)
  line L4 (-241.3, 38.1) -> (-101.6, 38.1)
  line L5 (-241.3, 0) -> (-101.6, 0)
  circle A0 centre (-171.45, 19.05) radius 8.89
  dimension "d184" = 17.78
  dimension "d185" = 69.85
  dimension "d186" = 19.05
extrude "Extrude23" cut sketch "Sketch16" against normal blind 3.048 contours A0 in component "Divider"
sketch "Sketch17" plane through (206.6477, 0, -357.9243) normal (-0.5, 0, 0.866) x (0.866, 0, 0.5) in component "Divider"
  line L0 (-84.2515, 0) -> (55.4485, 0)
  line L1 (55.4485, 0) -> (55.4485, 38.1)
  line L2 (55.4485, 38.1) -> (-84.2515, 38.1)
  line L3 (-84.2515, 38.1) -> (-84.2515, 0)
  line L4 (-84.2515, 38.1) -> (55.4485, 38.1)
  line L5 (-84.2515, 0) -> (55.4485, 0)
  circle A0 centre (-14.4015, 19.05) radius 8.89
  dimension "d189" = 17.78
  dimension "d190" = 69.85
  dimension "d191" = 19.05
extrude "Extrude24" cut sketch "Sketch17" against normal blind 3.048 contours A0 in component "Divider"
sketch "Sketch18" plane through (135.1573, 0, -234.0993) normal (-0.5, 0, 0.866) x (0.866, 0, 0.5) in component "Divider"
  line L0 (-1.7015, 0) -> (137.9985, 0)
  line L1 (137.9985, 0) -> (137.9985, 38.1)
  line L2 (137.9985, 38.1) -> (-1.7015, 38.1)
  line L3 (-1.7015, 38.1) -> (-1.7015, 0)
  line L4 (-1.7015, 38.1) -> (137.9985, 38.1)
  line L5 (-1.7015, 0) -> (137.9985, 0)
  circle A0 centre (68.1485, 19.05) radius 8.89
  dimension "d194" = 17.78
  dimension "d195" = 69.85
  dimension "d196" = 19.05
extrude "Extrude25" cut sketch "Sketch18" against normal blind 3.048 contours A0 in component "Divider"
component "Divider" placed x (1, 0, 0) y (0, 1, 0) z (0, 0, 1) at (0, 0, 0)
equation "d12 = 4.7631397208 in + 0.25 in"
